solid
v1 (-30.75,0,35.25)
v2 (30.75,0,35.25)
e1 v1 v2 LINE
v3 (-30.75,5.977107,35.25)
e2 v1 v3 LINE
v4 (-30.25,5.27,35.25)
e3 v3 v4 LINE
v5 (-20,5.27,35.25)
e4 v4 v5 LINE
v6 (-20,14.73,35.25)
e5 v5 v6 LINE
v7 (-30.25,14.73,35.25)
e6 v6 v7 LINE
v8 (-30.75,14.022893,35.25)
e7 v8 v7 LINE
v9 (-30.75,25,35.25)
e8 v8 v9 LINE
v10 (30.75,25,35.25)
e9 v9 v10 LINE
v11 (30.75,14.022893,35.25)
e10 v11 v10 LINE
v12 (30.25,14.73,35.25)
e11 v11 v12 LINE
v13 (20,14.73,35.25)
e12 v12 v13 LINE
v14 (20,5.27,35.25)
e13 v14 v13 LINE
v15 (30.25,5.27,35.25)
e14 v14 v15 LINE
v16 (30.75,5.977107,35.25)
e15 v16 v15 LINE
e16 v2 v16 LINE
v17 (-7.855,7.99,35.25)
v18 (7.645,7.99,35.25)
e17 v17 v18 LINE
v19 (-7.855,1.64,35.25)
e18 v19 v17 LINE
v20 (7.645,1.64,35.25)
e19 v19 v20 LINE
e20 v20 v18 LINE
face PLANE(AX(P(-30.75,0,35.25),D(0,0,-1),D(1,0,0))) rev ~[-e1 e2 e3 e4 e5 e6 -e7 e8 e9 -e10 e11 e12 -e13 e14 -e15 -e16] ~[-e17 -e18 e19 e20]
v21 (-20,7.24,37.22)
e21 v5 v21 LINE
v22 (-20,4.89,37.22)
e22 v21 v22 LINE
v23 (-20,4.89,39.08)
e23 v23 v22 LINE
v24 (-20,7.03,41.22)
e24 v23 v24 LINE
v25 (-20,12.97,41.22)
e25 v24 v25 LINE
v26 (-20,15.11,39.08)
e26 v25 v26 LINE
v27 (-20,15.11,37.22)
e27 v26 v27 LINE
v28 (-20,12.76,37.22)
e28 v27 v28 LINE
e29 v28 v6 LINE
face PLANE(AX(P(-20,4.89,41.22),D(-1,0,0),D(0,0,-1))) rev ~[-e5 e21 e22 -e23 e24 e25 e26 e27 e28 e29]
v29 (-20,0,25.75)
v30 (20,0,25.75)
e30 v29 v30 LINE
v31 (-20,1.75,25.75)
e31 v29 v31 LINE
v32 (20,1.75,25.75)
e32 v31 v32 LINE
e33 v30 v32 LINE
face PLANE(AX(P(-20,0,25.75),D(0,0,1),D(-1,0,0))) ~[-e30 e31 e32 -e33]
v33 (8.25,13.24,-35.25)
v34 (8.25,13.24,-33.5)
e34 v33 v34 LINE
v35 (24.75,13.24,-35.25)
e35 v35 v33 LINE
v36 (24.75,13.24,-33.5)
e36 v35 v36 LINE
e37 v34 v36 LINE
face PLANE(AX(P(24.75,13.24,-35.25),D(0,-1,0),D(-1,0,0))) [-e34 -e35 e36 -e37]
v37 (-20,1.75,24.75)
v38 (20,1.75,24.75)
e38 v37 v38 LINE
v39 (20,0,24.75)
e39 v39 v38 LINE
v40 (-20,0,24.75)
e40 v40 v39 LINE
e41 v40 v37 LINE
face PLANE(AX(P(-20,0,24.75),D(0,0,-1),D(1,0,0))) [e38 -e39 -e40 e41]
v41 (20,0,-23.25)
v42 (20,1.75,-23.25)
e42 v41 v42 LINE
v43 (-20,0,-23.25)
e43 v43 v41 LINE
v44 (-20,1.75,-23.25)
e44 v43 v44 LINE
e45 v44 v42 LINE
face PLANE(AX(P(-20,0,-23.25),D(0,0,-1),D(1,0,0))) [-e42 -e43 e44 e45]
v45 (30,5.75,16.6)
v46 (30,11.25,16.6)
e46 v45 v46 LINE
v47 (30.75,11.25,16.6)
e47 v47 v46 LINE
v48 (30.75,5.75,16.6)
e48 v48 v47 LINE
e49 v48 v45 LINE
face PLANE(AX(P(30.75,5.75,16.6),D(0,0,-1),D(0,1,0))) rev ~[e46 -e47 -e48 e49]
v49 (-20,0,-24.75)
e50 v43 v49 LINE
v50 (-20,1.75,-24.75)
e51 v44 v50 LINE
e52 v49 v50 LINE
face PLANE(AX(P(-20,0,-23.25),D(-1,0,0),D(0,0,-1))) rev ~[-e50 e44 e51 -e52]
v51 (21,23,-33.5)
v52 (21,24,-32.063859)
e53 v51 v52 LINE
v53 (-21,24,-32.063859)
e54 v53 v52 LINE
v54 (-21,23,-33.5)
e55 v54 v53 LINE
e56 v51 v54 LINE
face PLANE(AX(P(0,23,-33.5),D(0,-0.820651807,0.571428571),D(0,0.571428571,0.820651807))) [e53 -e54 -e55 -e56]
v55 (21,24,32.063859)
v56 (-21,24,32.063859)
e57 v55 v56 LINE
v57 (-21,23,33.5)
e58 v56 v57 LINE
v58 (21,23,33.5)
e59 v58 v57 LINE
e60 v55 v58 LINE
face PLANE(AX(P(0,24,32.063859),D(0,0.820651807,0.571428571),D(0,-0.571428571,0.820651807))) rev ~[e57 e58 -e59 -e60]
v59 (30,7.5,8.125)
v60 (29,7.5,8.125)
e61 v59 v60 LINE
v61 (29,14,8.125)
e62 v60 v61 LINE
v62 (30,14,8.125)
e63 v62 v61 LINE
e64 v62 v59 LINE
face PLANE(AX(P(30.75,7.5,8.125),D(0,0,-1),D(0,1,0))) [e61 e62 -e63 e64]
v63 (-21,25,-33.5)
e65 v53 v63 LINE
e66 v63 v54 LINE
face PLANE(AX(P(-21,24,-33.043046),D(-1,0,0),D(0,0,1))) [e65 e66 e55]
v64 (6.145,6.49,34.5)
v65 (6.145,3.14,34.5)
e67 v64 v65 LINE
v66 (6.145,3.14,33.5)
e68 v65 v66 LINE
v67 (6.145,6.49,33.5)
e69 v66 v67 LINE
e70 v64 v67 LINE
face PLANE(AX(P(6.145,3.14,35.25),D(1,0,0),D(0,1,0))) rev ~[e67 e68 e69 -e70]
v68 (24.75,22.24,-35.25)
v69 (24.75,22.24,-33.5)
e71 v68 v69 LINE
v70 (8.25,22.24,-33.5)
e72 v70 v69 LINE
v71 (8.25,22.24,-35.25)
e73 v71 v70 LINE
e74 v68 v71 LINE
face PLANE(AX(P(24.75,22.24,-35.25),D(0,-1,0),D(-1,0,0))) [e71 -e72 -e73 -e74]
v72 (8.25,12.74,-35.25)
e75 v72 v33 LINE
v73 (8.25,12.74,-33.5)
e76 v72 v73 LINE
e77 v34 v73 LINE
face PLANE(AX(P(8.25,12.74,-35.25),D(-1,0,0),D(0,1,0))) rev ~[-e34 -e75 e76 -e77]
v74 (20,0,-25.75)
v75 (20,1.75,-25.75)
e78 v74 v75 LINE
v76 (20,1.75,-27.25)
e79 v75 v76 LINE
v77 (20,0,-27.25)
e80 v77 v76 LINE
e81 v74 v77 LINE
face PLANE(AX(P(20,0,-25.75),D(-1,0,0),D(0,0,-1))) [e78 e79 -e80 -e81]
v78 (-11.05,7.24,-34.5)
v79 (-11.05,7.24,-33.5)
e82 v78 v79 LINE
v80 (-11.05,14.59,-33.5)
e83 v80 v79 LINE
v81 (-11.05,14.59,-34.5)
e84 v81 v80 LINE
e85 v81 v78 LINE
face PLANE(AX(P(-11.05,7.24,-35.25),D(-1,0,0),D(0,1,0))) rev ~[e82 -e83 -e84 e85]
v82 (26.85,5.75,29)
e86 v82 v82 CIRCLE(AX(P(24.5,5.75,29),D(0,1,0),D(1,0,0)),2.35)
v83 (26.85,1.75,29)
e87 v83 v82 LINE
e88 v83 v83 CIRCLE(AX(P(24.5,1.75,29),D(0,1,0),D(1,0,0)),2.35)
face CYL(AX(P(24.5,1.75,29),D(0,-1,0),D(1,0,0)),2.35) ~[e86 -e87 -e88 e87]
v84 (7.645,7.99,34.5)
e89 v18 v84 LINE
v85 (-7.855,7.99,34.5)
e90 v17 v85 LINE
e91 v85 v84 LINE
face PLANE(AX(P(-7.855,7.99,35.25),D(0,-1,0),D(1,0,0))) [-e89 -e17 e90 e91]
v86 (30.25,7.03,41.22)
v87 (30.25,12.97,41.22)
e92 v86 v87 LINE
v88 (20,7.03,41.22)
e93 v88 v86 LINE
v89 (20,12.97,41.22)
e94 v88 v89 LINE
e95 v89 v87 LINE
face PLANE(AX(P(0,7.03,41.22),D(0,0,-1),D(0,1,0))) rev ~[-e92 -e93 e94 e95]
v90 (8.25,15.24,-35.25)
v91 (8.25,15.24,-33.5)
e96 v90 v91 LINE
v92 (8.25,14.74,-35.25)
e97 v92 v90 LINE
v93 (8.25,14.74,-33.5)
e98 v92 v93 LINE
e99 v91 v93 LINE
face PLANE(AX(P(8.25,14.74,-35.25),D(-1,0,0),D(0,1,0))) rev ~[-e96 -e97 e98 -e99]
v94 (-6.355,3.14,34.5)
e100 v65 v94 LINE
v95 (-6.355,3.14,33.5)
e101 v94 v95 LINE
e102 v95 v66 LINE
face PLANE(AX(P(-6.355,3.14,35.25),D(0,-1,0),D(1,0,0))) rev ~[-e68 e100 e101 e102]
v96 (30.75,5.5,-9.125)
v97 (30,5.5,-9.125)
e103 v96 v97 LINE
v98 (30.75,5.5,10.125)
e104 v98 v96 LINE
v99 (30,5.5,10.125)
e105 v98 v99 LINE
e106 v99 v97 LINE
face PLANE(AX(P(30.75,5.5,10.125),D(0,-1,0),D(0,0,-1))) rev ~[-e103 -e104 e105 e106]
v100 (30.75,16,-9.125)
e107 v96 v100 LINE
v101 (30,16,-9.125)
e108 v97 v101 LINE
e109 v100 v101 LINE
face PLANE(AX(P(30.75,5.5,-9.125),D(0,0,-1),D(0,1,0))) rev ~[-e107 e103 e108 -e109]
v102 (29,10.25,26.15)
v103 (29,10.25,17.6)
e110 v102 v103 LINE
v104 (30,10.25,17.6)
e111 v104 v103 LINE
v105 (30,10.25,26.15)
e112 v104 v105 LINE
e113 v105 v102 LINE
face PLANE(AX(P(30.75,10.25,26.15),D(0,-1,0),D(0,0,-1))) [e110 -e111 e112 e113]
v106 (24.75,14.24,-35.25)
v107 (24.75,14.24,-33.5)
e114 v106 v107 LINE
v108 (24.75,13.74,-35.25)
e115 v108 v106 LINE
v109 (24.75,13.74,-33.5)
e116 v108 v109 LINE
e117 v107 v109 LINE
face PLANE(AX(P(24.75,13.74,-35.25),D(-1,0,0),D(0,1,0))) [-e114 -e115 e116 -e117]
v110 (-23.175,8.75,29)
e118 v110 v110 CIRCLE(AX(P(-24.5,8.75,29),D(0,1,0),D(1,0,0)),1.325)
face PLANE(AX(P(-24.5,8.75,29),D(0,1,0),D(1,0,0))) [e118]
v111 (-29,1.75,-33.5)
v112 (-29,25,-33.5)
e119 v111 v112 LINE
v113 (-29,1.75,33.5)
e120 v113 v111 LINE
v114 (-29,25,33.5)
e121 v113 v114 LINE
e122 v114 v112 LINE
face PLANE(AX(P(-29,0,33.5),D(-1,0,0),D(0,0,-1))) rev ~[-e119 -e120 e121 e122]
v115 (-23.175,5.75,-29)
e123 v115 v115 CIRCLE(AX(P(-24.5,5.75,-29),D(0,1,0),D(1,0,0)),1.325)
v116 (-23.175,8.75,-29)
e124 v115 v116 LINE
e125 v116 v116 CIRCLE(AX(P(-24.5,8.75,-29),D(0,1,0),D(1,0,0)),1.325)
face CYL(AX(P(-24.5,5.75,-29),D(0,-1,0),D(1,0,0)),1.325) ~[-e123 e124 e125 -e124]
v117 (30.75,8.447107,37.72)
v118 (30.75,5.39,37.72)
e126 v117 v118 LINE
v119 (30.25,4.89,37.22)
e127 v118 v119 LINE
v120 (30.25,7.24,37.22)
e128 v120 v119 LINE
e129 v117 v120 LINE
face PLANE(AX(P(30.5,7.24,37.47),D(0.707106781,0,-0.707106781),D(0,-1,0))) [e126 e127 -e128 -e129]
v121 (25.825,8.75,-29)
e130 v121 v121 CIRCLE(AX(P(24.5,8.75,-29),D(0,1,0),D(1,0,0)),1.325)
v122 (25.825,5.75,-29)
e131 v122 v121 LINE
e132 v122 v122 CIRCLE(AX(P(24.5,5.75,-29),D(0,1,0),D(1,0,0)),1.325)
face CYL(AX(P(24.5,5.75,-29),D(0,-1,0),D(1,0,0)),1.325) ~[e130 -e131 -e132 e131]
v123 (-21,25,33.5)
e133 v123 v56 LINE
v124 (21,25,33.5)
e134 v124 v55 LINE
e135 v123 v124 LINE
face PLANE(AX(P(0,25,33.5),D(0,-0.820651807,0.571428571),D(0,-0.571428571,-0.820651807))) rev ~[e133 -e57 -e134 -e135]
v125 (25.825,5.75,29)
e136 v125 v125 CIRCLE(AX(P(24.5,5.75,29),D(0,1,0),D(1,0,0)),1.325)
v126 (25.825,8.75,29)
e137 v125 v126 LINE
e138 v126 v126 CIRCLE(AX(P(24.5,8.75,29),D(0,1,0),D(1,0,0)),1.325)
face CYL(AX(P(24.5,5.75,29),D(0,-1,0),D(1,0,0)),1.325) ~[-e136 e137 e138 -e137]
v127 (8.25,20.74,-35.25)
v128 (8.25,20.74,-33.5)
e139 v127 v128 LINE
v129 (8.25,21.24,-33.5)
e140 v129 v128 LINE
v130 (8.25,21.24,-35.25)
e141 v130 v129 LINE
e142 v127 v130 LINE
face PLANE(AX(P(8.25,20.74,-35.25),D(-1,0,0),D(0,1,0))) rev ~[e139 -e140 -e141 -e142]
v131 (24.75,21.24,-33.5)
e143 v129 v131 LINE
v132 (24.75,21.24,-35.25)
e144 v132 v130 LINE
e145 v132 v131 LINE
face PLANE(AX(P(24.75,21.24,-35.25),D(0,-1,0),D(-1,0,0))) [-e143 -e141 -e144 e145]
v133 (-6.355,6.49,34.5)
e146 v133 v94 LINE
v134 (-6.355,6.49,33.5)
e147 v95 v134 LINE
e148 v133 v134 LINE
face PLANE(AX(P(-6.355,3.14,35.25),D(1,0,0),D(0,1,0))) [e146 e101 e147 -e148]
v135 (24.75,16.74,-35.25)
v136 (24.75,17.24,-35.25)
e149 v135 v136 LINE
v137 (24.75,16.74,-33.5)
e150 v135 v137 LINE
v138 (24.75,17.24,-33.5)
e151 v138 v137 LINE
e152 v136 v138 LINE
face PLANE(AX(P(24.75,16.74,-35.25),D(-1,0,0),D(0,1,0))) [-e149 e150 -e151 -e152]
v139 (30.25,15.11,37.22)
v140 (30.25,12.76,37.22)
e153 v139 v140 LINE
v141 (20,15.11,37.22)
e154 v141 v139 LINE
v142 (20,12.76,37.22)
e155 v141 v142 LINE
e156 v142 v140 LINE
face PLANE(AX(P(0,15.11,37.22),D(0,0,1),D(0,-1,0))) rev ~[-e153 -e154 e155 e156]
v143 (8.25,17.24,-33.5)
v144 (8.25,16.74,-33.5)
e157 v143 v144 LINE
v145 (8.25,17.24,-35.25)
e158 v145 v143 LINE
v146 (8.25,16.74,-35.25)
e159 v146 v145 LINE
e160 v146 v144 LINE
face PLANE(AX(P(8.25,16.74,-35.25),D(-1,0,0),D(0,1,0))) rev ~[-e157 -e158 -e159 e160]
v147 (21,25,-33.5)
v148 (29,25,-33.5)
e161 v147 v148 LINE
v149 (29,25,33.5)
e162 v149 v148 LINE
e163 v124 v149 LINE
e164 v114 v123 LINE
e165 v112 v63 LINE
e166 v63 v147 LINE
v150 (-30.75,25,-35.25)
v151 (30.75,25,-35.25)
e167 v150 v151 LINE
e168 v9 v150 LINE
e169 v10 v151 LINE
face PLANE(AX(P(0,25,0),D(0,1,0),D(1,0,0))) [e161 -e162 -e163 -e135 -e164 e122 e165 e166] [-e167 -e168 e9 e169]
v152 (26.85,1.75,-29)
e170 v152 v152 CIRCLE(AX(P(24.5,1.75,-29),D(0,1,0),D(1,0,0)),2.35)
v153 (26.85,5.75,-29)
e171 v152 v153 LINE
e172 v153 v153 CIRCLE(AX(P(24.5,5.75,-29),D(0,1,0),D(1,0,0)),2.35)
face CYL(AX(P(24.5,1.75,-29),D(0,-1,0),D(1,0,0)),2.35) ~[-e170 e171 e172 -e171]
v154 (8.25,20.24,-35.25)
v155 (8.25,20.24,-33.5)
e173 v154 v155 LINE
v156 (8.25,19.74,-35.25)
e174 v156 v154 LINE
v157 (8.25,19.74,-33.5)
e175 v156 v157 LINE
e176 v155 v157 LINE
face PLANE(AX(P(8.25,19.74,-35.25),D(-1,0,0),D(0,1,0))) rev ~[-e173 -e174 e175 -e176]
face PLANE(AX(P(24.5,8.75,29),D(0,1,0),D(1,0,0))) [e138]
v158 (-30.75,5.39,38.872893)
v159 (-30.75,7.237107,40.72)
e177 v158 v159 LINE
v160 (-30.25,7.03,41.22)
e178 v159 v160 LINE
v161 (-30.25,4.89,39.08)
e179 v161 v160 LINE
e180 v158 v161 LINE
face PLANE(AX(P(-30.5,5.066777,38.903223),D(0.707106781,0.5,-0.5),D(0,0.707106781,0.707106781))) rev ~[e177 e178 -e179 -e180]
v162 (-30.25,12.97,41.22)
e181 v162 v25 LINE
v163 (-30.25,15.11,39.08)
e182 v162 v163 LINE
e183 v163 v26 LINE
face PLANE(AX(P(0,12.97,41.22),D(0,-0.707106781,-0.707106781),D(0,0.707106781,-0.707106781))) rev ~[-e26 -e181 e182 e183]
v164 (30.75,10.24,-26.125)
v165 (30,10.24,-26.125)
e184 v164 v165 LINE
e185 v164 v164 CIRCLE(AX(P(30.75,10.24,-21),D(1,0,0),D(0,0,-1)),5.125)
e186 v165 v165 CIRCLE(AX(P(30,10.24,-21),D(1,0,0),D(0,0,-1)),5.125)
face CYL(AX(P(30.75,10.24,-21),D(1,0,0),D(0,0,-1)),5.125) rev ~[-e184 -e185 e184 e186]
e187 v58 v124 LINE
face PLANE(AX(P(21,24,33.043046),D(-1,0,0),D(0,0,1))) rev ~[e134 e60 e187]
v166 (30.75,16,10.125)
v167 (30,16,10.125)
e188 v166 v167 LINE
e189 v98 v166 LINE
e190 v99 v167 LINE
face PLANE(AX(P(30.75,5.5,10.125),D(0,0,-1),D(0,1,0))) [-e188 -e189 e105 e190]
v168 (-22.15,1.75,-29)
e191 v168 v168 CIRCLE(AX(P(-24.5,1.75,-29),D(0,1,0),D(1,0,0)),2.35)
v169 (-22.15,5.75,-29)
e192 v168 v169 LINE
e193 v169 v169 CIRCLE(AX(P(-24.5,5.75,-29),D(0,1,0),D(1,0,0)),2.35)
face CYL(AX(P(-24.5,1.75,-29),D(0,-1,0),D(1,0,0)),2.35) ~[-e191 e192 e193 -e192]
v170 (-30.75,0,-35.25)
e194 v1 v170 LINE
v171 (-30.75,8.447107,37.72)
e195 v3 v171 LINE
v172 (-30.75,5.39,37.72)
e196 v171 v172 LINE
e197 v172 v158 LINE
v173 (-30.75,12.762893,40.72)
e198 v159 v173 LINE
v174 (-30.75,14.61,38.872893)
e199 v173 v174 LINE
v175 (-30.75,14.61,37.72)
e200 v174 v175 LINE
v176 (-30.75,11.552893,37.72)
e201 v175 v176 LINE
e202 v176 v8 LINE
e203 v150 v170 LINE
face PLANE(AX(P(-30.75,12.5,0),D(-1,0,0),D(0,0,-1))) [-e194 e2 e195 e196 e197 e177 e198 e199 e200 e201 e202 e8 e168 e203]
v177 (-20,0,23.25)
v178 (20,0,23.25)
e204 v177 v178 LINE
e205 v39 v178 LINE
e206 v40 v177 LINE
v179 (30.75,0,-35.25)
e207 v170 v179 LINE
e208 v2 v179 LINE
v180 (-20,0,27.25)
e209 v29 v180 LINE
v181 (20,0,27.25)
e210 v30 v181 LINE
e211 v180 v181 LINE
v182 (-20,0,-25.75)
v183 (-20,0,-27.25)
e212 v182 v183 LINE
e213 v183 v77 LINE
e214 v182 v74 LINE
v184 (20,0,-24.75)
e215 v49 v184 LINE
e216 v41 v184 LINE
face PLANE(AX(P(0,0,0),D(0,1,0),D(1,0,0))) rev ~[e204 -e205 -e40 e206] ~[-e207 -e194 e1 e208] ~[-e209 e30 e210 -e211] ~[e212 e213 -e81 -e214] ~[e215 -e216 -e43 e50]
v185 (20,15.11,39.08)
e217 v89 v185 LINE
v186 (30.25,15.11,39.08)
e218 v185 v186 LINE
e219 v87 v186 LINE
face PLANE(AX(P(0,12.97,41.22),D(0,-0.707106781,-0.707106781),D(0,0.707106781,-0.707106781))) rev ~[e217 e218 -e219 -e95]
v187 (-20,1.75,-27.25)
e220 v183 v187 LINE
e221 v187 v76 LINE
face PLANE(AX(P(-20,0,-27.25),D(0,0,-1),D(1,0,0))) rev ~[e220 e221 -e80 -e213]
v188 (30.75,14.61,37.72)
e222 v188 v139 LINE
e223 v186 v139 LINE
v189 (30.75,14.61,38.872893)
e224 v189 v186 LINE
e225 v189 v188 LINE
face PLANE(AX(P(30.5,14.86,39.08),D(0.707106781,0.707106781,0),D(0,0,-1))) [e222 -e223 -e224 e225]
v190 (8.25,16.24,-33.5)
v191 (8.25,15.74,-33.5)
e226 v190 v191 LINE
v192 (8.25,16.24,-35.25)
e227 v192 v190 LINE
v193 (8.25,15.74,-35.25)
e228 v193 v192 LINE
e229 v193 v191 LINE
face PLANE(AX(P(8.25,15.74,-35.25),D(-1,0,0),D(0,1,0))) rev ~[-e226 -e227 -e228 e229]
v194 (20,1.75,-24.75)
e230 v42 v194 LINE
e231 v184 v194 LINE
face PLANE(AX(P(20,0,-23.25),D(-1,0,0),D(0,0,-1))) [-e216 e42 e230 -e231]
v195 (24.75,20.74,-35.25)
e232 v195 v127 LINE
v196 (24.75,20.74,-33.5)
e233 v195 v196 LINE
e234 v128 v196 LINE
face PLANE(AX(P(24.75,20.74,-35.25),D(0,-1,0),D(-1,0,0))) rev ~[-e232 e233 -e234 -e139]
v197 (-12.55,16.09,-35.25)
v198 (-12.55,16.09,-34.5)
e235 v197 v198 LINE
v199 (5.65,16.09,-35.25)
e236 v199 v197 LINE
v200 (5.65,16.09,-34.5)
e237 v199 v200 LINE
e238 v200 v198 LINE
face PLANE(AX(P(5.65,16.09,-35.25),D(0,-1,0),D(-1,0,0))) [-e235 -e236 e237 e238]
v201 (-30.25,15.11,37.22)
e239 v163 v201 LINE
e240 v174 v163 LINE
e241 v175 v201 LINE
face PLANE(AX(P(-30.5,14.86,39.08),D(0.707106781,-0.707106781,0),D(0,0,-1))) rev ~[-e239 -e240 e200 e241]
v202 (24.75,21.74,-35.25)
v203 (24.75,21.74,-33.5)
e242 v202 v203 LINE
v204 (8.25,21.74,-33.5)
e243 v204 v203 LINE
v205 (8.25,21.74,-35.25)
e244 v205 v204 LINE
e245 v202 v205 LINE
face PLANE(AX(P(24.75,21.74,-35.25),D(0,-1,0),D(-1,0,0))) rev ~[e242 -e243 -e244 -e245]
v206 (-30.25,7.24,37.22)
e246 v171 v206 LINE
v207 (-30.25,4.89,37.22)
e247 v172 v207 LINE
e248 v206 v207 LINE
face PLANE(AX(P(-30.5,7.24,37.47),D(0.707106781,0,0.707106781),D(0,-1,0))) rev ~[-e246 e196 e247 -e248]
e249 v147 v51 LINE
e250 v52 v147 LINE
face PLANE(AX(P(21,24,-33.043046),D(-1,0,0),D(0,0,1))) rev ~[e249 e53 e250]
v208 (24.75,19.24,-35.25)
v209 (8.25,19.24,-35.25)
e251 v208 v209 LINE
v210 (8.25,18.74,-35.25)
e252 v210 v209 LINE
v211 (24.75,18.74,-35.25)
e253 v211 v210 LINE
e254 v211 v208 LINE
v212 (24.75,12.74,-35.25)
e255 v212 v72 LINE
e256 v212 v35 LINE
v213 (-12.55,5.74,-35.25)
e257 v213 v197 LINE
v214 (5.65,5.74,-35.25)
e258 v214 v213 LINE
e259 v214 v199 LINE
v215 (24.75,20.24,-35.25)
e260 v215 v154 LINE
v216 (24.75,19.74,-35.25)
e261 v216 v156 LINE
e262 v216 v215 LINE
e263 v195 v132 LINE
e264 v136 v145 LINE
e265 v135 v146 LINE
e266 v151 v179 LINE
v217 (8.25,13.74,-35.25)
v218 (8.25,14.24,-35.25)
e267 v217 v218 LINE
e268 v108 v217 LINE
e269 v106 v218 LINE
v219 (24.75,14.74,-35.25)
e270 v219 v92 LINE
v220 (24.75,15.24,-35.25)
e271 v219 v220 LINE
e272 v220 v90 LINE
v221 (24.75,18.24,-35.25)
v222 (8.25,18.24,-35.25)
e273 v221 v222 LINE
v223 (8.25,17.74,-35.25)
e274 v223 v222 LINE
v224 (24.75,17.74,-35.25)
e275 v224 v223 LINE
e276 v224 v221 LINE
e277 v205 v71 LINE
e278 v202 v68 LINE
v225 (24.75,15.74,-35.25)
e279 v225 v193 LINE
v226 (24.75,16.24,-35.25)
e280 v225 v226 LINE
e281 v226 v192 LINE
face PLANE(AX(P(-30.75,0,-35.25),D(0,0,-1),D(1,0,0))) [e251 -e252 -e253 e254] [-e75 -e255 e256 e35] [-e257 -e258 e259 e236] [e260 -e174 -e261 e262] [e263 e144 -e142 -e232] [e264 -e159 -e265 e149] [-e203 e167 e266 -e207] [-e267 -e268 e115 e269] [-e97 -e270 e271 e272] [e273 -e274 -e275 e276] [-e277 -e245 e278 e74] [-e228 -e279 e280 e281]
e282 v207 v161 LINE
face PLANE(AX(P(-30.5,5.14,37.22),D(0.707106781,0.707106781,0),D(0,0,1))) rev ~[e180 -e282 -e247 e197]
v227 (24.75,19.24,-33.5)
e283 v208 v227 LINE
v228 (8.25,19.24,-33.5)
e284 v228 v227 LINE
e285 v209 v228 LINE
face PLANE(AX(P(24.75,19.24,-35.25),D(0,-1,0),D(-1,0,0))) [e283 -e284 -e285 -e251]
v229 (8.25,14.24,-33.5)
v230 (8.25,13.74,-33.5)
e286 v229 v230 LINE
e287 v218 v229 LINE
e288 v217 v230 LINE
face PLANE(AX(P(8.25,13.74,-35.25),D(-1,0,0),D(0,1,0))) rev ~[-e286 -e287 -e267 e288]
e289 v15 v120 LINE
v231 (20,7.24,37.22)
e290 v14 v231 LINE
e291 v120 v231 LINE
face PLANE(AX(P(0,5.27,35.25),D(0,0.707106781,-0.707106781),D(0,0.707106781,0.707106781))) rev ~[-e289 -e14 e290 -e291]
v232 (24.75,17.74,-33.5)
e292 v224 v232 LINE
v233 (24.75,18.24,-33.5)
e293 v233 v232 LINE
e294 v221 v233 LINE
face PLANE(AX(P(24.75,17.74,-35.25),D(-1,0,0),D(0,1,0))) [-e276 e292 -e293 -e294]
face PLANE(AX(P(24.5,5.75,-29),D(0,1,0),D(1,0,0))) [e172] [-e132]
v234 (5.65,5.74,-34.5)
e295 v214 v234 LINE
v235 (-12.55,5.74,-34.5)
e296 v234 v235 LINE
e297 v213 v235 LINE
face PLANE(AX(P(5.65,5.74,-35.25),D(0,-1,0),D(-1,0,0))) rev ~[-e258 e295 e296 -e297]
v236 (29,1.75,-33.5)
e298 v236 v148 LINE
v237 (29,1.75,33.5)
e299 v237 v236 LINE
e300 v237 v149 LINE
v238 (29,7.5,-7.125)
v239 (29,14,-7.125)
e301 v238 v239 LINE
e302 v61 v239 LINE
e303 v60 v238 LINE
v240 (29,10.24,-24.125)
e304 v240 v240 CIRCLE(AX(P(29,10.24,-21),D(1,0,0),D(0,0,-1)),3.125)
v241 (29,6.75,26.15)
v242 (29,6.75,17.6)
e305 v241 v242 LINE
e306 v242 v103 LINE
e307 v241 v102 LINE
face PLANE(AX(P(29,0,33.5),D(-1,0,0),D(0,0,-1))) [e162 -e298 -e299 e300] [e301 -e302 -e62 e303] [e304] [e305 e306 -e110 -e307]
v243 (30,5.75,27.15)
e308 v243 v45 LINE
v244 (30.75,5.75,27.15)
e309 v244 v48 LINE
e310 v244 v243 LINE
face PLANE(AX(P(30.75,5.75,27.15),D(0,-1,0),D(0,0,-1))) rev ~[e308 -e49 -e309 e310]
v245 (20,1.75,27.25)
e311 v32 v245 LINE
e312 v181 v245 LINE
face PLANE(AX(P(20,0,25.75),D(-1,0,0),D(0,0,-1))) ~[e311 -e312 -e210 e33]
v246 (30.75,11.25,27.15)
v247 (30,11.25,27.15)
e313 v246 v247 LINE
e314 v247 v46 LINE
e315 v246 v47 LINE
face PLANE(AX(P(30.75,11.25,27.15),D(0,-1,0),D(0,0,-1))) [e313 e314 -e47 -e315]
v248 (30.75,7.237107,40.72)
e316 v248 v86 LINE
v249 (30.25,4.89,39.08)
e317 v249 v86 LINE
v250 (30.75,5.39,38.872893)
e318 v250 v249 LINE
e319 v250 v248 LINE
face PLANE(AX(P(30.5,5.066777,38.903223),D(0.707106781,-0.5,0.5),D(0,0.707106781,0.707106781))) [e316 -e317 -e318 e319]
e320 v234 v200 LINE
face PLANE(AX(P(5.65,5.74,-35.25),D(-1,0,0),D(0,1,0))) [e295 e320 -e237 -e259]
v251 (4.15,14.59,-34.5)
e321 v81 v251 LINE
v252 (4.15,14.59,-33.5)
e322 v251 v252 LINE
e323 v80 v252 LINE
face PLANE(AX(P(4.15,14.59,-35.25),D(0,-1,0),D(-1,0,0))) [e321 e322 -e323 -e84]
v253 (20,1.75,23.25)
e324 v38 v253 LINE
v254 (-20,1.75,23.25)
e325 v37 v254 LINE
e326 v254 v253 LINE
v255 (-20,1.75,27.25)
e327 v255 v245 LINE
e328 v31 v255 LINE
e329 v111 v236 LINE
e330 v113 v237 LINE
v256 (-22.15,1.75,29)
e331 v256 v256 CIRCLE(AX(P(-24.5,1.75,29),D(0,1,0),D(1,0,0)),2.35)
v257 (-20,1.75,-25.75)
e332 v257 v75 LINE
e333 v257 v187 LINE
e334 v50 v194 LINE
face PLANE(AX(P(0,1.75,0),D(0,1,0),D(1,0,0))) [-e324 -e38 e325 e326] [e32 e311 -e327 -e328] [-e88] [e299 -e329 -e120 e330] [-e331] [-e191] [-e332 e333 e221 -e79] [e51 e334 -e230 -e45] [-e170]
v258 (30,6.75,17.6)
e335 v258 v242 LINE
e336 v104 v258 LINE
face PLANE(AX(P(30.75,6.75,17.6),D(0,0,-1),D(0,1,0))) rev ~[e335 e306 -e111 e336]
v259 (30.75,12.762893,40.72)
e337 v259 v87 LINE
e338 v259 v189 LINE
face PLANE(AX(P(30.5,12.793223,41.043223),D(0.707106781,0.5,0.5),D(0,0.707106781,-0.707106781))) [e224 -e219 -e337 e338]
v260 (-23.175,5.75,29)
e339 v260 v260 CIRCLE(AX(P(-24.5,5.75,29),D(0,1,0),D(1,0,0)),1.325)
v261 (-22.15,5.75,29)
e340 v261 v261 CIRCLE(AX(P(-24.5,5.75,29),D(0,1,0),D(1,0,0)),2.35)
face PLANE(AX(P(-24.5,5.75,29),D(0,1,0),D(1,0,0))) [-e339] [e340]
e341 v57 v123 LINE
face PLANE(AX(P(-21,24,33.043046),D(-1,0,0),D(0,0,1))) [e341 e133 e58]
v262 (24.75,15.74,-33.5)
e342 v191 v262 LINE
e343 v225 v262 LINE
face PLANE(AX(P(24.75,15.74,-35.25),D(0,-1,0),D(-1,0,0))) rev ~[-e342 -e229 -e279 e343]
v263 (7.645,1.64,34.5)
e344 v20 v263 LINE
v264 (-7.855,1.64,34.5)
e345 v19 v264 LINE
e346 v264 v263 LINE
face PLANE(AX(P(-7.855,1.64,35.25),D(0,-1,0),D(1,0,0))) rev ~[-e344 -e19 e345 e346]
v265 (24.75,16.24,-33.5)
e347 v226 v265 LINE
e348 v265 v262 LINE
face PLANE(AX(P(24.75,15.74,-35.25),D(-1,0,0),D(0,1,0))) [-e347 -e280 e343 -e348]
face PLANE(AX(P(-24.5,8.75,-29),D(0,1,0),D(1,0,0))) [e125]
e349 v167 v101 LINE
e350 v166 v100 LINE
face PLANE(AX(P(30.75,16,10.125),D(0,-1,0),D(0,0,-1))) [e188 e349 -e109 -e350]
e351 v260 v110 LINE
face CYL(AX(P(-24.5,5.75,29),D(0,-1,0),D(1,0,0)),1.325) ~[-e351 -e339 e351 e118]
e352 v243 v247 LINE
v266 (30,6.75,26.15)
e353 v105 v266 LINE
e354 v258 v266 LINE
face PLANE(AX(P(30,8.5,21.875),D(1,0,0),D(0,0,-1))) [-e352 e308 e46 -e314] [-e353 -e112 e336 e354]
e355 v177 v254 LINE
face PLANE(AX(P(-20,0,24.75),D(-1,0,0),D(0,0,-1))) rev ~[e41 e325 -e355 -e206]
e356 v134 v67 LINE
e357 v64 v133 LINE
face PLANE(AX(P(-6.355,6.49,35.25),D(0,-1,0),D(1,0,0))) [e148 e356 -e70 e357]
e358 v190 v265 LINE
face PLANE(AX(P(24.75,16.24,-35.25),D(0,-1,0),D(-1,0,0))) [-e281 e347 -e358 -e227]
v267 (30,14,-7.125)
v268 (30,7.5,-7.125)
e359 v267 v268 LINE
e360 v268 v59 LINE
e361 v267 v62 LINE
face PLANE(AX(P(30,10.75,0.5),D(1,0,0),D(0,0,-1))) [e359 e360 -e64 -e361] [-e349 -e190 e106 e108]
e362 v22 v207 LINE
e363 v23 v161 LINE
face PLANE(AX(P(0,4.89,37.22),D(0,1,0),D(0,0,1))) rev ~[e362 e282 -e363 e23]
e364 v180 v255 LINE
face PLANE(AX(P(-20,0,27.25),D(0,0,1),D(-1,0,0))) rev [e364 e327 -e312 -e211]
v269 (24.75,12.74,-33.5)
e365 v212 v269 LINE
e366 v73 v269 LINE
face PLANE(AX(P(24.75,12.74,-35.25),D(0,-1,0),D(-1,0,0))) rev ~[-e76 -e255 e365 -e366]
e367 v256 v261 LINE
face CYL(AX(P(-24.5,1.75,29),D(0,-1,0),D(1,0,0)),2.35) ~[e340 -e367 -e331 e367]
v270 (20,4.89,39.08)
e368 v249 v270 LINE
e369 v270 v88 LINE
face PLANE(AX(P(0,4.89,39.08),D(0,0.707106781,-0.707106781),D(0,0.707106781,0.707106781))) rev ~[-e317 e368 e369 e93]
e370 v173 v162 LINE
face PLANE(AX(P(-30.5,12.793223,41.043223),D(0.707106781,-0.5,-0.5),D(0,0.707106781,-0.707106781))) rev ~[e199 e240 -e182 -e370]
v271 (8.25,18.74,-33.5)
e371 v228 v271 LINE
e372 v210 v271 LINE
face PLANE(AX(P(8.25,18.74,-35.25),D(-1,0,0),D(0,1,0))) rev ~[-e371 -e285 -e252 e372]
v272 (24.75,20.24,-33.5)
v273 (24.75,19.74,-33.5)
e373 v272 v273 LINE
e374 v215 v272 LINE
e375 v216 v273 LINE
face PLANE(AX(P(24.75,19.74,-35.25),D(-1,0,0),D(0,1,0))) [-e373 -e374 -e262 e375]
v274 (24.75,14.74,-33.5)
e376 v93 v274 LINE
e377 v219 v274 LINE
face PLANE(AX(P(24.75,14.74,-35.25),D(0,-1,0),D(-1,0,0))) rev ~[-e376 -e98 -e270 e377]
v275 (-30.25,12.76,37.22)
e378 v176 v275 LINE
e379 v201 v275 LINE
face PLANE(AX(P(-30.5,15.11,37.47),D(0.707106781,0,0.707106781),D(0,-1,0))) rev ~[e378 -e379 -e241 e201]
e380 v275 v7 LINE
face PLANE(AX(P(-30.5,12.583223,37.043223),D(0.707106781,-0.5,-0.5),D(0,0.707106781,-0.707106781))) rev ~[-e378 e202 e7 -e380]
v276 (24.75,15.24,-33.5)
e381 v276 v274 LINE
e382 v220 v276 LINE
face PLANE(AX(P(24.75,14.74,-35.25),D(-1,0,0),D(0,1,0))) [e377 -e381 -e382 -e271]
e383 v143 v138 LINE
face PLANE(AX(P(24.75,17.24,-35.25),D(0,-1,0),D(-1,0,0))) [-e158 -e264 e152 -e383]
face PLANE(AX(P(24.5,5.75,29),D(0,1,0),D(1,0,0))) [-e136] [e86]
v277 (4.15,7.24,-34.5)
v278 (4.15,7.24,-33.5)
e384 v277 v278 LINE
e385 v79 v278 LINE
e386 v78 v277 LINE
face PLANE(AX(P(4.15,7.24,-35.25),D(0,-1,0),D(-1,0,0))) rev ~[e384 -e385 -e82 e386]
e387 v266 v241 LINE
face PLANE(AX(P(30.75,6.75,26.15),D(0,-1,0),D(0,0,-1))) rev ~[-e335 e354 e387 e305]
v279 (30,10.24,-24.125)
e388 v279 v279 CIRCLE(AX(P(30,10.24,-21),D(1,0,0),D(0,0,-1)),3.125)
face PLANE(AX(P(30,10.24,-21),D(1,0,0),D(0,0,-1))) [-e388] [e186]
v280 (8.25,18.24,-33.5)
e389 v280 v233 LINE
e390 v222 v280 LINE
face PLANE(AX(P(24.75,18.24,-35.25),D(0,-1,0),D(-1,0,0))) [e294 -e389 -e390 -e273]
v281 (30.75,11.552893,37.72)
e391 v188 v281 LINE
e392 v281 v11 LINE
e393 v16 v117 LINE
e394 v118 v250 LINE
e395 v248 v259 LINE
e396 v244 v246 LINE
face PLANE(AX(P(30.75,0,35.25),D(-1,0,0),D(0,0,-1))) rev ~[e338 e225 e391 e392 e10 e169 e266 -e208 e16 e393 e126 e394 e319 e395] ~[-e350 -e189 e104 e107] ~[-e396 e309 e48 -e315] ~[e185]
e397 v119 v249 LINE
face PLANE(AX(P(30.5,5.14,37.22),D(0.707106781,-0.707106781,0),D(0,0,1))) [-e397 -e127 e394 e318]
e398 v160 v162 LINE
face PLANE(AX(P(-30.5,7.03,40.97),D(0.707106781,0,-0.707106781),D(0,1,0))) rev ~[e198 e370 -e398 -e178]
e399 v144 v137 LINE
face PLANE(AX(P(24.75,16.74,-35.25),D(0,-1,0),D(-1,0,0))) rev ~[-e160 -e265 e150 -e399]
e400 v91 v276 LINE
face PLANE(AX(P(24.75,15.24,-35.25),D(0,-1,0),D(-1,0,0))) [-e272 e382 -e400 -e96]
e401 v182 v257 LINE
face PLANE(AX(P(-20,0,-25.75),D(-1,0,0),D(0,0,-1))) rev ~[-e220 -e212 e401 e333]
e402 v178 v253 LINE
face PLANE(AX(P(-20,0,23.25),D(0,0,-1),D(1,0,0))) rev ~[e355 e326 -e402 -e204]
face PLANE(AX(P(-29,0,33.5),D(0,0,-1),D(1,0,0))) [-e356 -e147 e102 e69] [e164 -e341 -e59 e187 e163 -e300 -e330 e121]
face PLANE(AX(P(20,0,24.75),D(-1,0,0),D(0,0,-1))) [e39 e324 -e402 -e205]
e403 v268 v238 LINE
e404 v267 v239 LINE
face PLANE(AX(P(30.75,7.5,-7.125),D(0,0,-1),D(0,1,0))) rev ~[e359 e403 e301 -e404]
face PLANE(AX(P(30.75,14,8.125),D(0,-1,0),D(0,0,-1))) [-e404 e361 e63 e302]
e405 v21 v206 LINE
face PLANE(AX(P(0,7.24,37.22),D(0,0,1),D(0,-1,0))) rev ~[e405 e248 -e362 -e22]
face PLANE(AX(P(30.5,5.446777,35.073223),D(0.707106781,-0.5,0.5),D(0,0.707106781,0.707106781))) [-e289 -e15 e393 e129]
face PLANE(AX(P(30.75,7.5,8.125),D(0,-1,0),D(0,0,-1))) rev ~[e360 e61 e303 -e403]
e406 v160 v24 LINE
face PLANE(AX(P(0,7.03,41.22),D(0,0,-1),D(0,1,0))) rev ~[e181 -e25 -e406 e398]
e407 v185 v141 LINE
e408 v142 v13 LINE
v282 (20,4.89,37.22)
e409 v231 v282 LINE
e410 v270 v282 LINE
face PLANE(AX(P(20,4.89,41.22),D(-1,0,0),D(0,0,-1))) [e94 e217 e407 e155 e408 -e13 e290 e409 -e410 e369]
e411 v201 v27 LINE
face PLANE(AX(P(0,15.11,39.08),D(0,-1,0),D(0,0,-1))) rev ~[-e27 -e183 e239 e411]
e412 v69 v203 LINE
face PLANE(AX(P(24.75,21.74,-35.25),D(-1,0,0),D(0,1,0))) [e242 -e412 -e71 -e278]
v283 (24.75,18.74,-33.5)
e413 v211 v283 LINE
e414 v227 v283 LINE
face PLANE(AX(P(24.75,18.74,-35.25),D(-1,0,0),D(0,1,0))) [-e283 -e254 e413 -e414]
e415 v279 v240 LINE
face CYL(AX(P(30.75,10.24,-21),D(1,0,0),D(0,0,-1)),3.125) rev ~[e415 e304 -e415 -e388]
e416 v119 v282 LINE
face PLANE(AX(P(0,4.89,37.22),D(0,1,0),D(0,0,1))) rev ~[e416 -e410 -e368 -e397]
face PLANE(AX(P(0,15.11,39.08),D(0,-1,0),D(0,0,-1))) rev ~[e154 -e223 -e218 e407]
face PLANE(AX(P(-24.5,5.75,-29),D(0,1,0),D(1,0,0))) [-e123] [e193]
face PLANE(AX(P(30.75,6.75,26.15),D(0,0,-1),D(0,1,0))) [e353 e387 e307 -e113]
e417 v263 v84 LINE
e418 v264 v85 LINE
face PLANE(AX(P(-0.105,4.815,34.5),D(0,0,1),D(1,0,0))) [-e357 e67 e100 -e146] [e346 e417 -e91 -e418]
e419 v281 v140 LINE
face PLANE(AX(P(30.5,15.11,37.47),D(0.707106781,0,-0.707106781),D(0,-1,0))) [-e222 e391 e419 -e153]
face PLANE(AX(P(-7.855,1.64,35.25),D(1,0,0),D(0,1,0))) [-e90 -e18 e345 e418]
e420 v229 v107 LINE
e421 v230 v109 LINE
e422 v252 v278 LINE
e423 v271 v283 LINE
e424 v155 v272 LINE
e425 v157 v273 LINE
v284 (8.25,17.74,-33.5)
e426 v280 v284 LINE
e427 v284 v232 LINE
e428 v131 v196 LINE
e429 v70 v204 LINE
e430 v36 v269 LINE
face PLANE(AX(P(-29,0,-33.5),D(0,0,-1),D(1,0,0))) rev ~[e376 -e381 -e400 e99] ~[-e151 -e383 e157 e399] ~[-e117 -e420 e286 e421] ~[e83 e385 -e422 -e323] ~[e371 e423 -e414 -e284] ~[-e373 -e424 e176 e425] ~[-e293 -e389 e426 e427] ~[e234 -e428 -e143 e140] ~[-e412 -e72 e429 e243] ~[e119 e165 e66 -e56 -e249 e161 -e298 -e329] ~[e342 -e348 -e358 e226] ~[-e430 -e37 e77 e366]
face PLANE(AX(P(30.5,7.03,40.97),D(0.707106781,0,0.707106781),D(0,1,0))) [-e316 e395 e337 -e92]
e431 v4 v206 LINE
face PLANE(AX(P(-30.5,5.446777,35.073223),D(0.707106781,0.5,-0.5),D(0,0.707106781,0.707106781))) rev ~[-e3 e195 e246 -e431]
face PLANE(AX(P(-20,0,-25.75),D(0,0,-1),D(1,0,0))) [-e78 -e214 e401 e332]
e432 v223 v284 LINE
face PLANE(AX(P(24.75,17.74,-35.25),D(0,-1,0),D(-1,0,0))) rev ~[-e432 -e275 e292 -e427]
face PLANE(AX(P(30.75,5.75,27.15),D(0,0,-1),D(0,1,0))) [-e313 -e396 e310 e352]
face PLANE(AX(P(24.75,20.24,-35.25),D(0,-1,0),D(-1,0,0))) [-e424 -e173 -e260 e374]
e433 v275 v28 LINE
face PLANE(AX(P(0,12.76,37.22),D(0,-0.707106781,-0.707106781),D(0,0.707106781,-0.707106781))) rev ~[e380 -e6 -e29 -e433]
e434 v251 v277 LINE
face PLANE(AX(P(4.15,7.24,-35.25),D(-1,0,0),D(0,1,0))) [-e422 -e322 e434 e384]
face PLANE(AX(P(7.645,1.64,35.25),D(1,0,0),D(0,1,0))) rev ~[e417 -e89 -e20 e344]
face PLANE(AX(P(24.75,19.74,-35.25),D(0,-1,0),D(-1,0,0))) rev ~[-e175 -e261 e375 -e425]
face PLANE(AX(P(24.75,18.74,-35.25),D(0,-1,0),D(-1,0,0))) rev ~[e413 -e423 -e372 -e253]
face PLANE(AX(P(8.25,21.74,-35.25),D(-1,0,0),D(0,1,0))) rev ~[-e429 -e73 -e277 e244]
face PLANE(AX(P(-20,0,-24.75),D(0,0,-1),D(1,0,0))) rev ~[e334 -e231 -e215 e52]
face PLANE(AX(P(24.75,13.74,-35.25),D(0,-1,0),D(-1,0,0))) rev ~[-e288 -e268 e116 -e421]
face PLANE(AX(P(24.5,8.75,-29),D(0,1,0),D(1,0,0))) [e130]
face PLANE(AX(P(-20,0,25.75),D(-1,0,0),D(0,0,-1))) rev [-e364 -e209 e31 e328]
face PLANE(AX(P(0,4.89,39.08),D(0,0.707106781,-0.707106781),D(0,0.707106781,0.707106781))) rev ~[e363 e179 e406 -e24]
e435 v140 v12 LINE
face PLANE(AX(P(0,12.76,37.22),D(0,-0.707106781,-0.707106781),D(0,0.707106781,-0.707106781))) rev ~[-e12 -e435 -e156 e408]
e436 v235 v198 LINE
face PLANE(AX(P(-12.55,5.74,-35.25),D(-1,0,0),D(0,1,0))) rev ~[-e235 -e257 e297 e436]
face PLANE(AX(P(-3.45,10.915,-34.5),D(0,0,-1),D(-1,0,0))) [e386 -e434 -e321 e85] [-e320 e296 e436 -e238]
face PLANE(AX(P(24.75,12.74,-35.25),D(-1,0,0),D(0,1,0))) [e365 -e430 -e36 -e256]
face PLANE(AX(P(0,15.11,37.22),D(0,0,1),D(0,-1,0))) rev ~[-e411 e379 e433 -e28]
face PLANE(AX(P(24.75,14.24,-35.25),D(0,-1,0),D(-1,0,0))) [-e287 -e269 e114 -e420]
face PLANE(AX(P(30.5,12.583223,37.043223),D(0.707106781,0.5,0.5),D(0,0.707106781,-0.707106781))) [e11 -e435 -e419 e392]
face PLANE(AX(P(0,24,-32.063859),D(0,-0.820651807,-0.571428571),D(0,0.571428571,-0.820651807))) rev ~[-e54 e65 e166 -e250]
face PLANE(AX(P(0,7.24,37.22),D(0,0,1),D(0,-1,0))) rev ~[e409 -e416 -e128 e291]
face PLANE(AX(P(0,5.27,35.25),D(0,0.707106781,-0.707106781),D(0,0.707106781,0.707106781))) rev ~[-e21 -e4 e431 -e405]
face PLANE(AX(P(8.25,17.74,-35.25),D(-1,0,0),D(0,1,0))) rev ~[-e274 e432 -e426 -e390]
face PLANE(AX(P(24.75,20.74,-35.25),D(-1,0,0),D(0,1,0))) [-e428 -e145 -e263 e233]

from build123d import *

# Parameters (mm, degrees)
SKETCH1_W                       = 61.5
SKETCH1_H                       = 70.5
SKETCH1_W_2                     = 58
SKETCH1_H_2                     = 67
BOSS_EXTRUDE1_DEPTH             = 25
SKETCH2_W                       = 61.5
SKETCH2_H                       = 70.5
BOSS_EXTRUDE5_DEPTH             = 1.75
SKETCH3_R                       = 2.35
BOSS_EXTRUDE2_DEPTH             = 4
SKETCH4_R                       = 1.325
BOSS_EXTRUDE3_DEPTH             = 3
CUT_EXTRUDE2_REACH              = 63.5
SKETCH5_R                       = 3.125
SKETCH5_W                       = 8.55
SKETCH5_H                       = 3.5
SKETCH5_W_2                     = 15.25
SKETCH5_H_2                     = 6.5
BOSS_EXTRUDE4_REACH             = 32.75
BOSS_EXTRUDE4_DIRECTION_2_REACH = 32.75
CUT_EXTRUDE3_START              = 4.89
SKETCH8_W                       = 40
SKETCH8_H                       = 5.97
CUT_EXTRUDE3_DEPTH              = 10.22
CUT_EXTRUDE4_REACH              = 78.47
SKETCH10_W                      = 15.2
SKETCH10_H                      = 7.35
SKETCH10_W_2                    = 16.5
SKETCH10_H_2                    = 0.5
CUT_EXTRUDE6_REACH              = 72.5
SKETCH13_W                      = 12.5
SKETCH13_H                      = 3.35
SKETCH14_R                      = 5.125
SKETCH14_W                      = 10.55
SKETCH14_H                      = 5.5
SKETCH14_W_2                    = 19.25
SKETCH14_H_2                    = 10.5
CUT_EXTRUDE7_DEPTH              = 0.75
SKETCH15_W                      = 18.2
SKETCH15_H                      = 10.35
CUT_EXTRUDE8_DEPTH              = 0.75
SKETCH17_W                      = 15.5
SKETCH17_H                      = 6.35
CUT_EXTRUDE9_DEPTH              = 0.75
BOSS_EXTRUDE6_DEPTH             = 21
BOSS_EXTRUDE6_DEPTH_BACK        = 21
SKETCH19_W                      = 40
SKETCH19_H                      = 1.5
CUT_EXTRUDE11_DEPTH             = 1.75
LPATTERN1_COUNT                 = 2
LPATTERN1_PITCH                 = 2.5
MIRROR1_COPY_1_SKETCH_W         = 40
MIRROR1_COPY_1_SKETCH_H         = 1.5
MIRROR1_COPY_1_DEPTH            = 1.75
CHAMFER1_SIZE                   = 0.5


with BuildPart() as part:
    # Sketch1 → Boss-Extrude1 (new body)
    with BuildSketch(Plane(origin=(0, 0, 0), x_dir=(1, 0, 0), z_dir=(0, 1, 0))):
        Rectangle(SKETCH1_W, SKETCH1_H)
        Rectangle(SKETCH1_W_2, SKETCH1_H_2, mode=Mode.SUBTRACT)
    extrude(amount=BOSS_EXTRUDE1_DEPTH)

    # Sketch2 → Boss-Extrude5 (add)
    with BuildSketch(Plane(origin=(0, 0, 0), x_dir=(1, 0, 0), z_dir=(0, 1, 0))):
        Rectangle(SKETCH2_W, SKETCH2_H)
    extrude(amount=BOSS_EXTRUDE5_DEPTH)

    # Sketch3 → Boss-Extrude2 (add)
    with BuildSketch(Plane(origin=(0, 1.75, 0), x_dir=(1, 0, 0), z_dir=(0, 1, 0))):
        with Locations((-24.5, 29)):
            Circle(SKETCH3_R)
        with Locations((24.5, 29)):
            Circle(SKETCH3_R)
        with Locations((24.5, -29)):
            Circle(SKETCH3_R)
        with Locations((-24.5, -29)):
            Circle(SKETCH3_R)
    extrude(amount=BOSS_EXTRUDE2_DEPTH)

    # Sketch4 → Boss-Extrude3 (add)
    with BuildSketch(Plane(origin=(0, 5.75, 0), x_dir=(1, 0, 0), z_dir=(0, 1, 0))):
        with Locations((-24.5, 29)):
            Circle(SKETCH4_R)
        with Locations((24.5, 29)):
            Circle(SKETCH4_R)
        with Locations((24.5, -29)):
            Circle(SKETCH4_R)
        with Locations((-24.5, -29)):
            Circle(SKETCH4_R)
    extrude(amount=BOSS_EXTRUDE3_DEPTH)

    # Sketch5 → Cut-Extrude2 (cut, up to next)
    with BuildSketch(Plane(origin=(30.75, 0, 0), x_dir=(0, 0, -1), z_dir=(1, 0, 0)), mode=Mode.PRIVATE) as cut_extrude2_sk1:
        with Locations((21, 10.24)):
            Circle(SKETCH5_R)
    cut_extrude2_tool1 = extrude(cut_extrude2_sk1.sketch, amount=-CUT_EXTRUDE2_REACH, mode=Mode.PRIVATE) & part.part
    add(cut_extrude2_tool1.solids().sort_by_distance((30.75, 10.24, -21))[0], mode=Mode.SUBTRACT)
    # Sketch5 → Cut-Extrude2 (cut, up to next)
    with BuildSketch(Plane(origin=(30.75, 0, 0), x_dir=(0, 0, -1), z_dir=(1, 0, 0)), mode=Mode.PRIVATE) as cut_extrude2_sk2:
        with Locations((-21.875, 8.5)):
            Rectangle(SKETCH5_W, SKETCH5_H)
    cut_extrude2_tool2 = extrude(cut_extrude2_sk2.sketch, amount=-CUT_EXTRUDE2_REACH, mode=Mode.PRIVATE) & part.part
    add(cut_extrude2_tool2.solids().sort_by_distance((30.75, 8.5, 21.875))[0], mode=Mode.SUBTRACT)
    # Sketch5 → Cut-Extrude2 (cut, up to next)
    with BuildSketch(Plane(origin=(30.75, 0, 0), x_dir=(0, 0, -1), z_dir=(1, 0, 0)), mode=Mode.PRIVATE) as cut_extrude2_sk3:
        with Locations((-0.5, 10.75)):
            Rectangle(SKETCH5_W_2, SKETCH5_H_2)
    cut_extrude2_tool3 = extrude(cut_extrude2_sk3.sketch, amount=-CUT_EXTRUDE2_REACH, mode=Mode.PRIVATE) & part.part
    add(cut_extrude2_tool3.solids().sort_by_distance((30.75, 10.75, 0.5))[0], mode=Mode.SUBTRACT)

    # Boss-Extrude4: up to this face of the body (flat: up to its plane)
    boss_extrude4_end = Plane(part.part.faces().sort_by_distance((30.75, 0.748014037, 0))[0])
    # Sketch7 → Boss-Extrude4 (add, up to the picked face)
    with BuildSketch(Plane(origin=(0, 0, 0), x_dir=(0, 0, -1), z_dir=(1, 0, 0)), mode=Mode.PRIVATE) as boss_extrude4_sk1:
        Polygon((-35.25, 14.73), (-35.25, 5.27), (-37.22, 7.24), (-37.22, 4.89), (-39.08, 4.89), (-41.22, 7.03), (-41.22, 12.97), (-39.08, 15.11), (-37.22, 15.11), (-37.22, 12.76), align=None)
    boss_extrude4_tool1 = split(extrude(boss_extrude4_sk1.sketch, amount=BOSS_EXTRUDE4_REACH, mode=Mode.PRIVATE), bisect_by=boss_extrude4_end, keep=Keep.BOTH, mode=Mode.PRIVATE)
    add(boss_extrude4_tool1.solids().sort_by_distance((0, 10, 38.216954))[0])

    # Boss-Extrude4 direction 2: up to this face of the body (flat: up to its plane)
    boss_extrude4_direction_2_end = Plane(part.part.faces().sort_by_distance((-30.75, 12.5, 0))[0])
    # Sketch7 → Boss-Extrude4 direction 2 (add, up to the picked face)
    with BuildSketch(Plane(origin=(0, 0, 0), x_dir=(0, 0, -1), z_dir=(1, 0, 0)), mode=Mode.PRIVATE) as boss_extrude4_direction_2_sk1:
        Polygon((-35.25, 14.73), (-35.25, 5.27), (-37.22, 7.24), (-37.22, 4.89), (-39.08, 4.89), (-41.22, 7.03), (-41.22, 12.97), (-39.08, 15.11), (-37.22, 15.11), (-37.22, 12.76), align=None)
    boss_extrude4_direction_2_tool1 = split(extrude(boss_extrude4_direction_2_sk1.sketch, amount=-BOSS_EXTRUDE4_DIRECTION_2_REACH, mode=Mode.PRIVATE), bisect_by=boss_extrude4_direction_2_end, keep=Keep.BOTH, mode=Mode.PRIVATE)
    add(boss_extrude4_direction_2_tool1.solids().sort_by_distance((0, 10, 38.216954))[0])

    # Sketch8 → Cut-Extrude3 (cut)
    with BuildSketch(Plane(origin=(0, 0, 0), x_dir=(1, 0, 0), z_dir=(0, 1, 0)).offset(CUT_EXTRUDE3_START)):
        with Locations((0, -38.235)):
            Rectangle(SKETCH8_W, SKETCH8_H)
    extrude(amount=CUT_EXTRUDE3_DEPTH, mode=Mode.SUBTRACT)

    # Sketch10 → Cut-Extrude4 (cut, up to next)
    with BuildSketch(Plane(origin=(0, 0, -35.25), x_dir=(-1, 0, 0), z_dir=(0, 0, -1)), mode=Mode.PRIVATE) as cut_extrude4_sk1:
        with Locations((3.45, 10.915)):
            Rectangle(SKETCH10_W, SKETCH10_H)
    cut_extrude4_tool1 = extrude(cut_extrude4_sk1.sketch, amount=-CUT_EXTRUDE4_REACH, mode=Mode.PRIVATE) & part.part
    add(cut_extrude4_tool1.solids().sort_by_distance((-3.45, 10.915, -35.25))[0], mode=Mode.SUBTRACT)
    # Sketch10 → Cut-Extrude4 (cut, up to next)
    with BuildSketch(Plane(origin=(0, 0, -35.25), x_dir=(-1, 0, 0), z_dir=(0, 0, -1)), mode=Mode.PRIVATE) as cut_extrude4_sk2:
        with Locations((-16.5, 21.99)):
            Rectangle(SKETCH10_W_2, SKETCH10_H_2)
    cut_extrude4_tool2 = extrude(cut_extrude4_sk2.sketch, amount=-CUT_EXTRUDE4_REACH, mode=Mode.PRIVATE) & part.part
    add(cut_extrude4_tool2.solids().sort_by_distance((16.5, 21.99, -35.25))[0], mode=Mode.SUBTRACT)
    # Sketch10 → Cut-Extrude4 (cut, up to next)
    with BuildSketch(Plane(origin=(0, 0, -35.25), x_dir=(-1, 0, 0), z_dir=(0, 0, -1)), mode=Mode.PRIVATE) as cut_extrude4_sk3:
        with Locations((-16.5, 20.99)):
            Rectangle(SKETCH10_W_2, SKETCH10_H_2)
    cut_extrude4_tool3 = extrude(cut_extrude4_sk3.sketch, amount=-CUT_EXTRUDE4_REACH, mode=Mode.PRIVATE) & part.part
    add(cut_extrude4_tool3.solids().sort_by_distance((16.5, 20.99, -35.25))[0], mode=Mode.SUBTRACT)
    # Sketch10 → Cut-Extrude4 (cut, up to next)
    with BuildSketch(Plane(origin=(0, 0, -35.25), x_dir=(-1, 0, 0), z_dir=(0, 0, -1)), mode=Mode.PRIVATE) as cut_extrude4_sk4:
        with Locations((-16.5, 19.99)):
            Rectangle(SKETCH10_W_2, SKETCH10_H_2)
    cut_extrude4_tool4 = extrude(cut_extrude4_sk4.sketch, amount=-CUT_EXTRUDE4_REACH, mode=Mode.PRIVATE) & part.part
    add(cut_extrude4_tool4.solids().sort_by_distance((16.5, 19.99, -35.25))[0], mode=Mode.SUBTRACT)
    # Sketch10 → Cut-Extrude4 (cut, up to next)
    with BuildSketch(Plane(origin=(0, 0, -35.25), x_dir=(-1, 0, 0), z_dir=(0, 0, -1)), mode=Mode.PRIVATE) as cut_extrude4_sk5:
        with Locations((-16.5, 18.99)):
            Rectangle(SKETCH10_W_2, SKETCH10_H_2)
    cut_extrude4_tool5 = extrude(cut_extrude4_sk5.sketch, amount=-CUT_EXTRUDE4_REACH, mode=Mode.PRIVATE) & part.part
    add(cut_extrude4_tool5.solids().sort_by_distance((16.5, 18.99, -35.25))[0], mode=Mode.SUBTRACT)
    # Sketch10 → Cut-Extrude4 (cut, up to next)
    with BuildSketch(Plane(origin=(0, 0, -35.25), x_dir=(-1, 0, 0), z_dir=(0, 0, -1)), mode=Mode.PRIVATE) as cut_extrude4_sk6:
        with Locations((-16.5, 17.99)):
            Rectangle(SKETCH10_W_2, SKETCH10_H_2)
    cut_extrude4_tool6 = extrude(cut_extrude4_sk6.sketch, amount=-CUT_EXTRUDE4_REACH, mode=Mode.PRIVATE) & part.part
    add(cut_extrude4_tool6.solids().sort_by_distance((16.5, 17.99, -35.25))[0], mode=Mode.SUBTRACT)
    # Sketch10 → Cut-Extrude4 (cut, up to next)
    with BuildSketch(Plane(origin=(0, 0, -35.25), x_dir=(-1, 0, 0), z_dir=(0, 0, -1)), mode=Mode.PRIVATE) as cut_extrude4_sk7:
        with Locations((-16.5, 16.99)):
            Rectangle(SKETCH10_W_2, SKETCH10_H_2)
    cut_extrude4_tool7 = extrude(cut_extrude4_sk7.sketch, amount=-CUT_EXTRUDE4_REACH, mode=Mode.PRIVATE) & part.part
    add(cut_extrude4_tool7.solids().sort_by_distance((16.5, 16.99, -35.25))[0], mode=Mode.SUBTRACT)
    # Sketch10 → Cut-Extrude4 (cut, up to next)
    with BuildSketch(Plane(origin=(0, 0, -35.25), x_dir=(-1, 0, 0), z_dir=(0, 0, -1)), mode=Mode.PRIVATE) as cut_extrude4_sk8:
        with Locations((-16.5, 15.99)):
            Rectangle(SKETCH10_W_2, SKETCH10_H_2)
    cut_extrude4_tool8 = extrude(cut_extrude4_sk8.sketch, amount=-CUT_EXTRUDE4_REACH, mode=Mode.PRIVATE) & part.part
    add(cut_extrude4_tool8.solids().sort_by_distance((16.5, 15.99, -35.25))[0], mode=Mode.SUBTRACT)
    # Sketch10 → Cut-Extrude4 (cut, up to next)
    with BuildSketch(Plane(origin=(0, 0, -35.25), x_dir=(-1, 0, 0), z_dir=(0, 0, -1)), mode=Mode.PRIVATE) as cut_extrude4_sk9:
        with Locations((-16.5, 14.99)):
            Rectangle(SKETCH10_W_2, SKETCH10_H_2)
    cut_extrude4_tool9 = extrude(cut_extrude4_sk9.sketch, amount=-CUT_EXTRUDE4_REACH, mode=Mode.PRIVATE) & part.part
    add(cut_extrude4_tool9.solids().sort_by_distance((16.5, 14.99, -35.25))[0], mode=Mode.SUBTRACT)
    # Sketch10 → Cut-Extrude4 (cut, up to next)
    with BuildSketch(Plane(origin=(0, 0, -35.25), x_dir=(-1, 0, 0), z_dir=(0, 0, -1)), mode=Mode.PRIVATE) as cut_extrude4_sk10:
        with Locations((-16.5, 13.99)):
            Rectangle(SKETCH10_W_2, SKETCH10_H_2)
    cut_extrude4_tool10 = extrude(cut_extrude4_sk10.sketch, amount=-CUT_EXTRUDE4_REACH, mode=Mode.PRIVATE) & part.part
    add(cut_extrude4_tool10.solids().sort_by_distance((16.5, 13.99, -35.25))[0], mode=Mode.SUBTRACT)
    # Sketch10 → Cut-Extrude4 (cut, up to next)
    with BuildSketch(Plane(origin=(0, 0, -35.25), x_dir=(-1, 0, 0), z_dir=(0, 0, -1)), mode=Mode.PRIVATE) as cut_extrude4_sk11:
        with Locations((-16.5, 12.99)):
            Rectangle(SKETCH10_W_2, SKETCH10_H_2)
    cut_extrude4_tool11 = extrude(cut_extrude4_sk11.sketch, amount=-CUT_EXTRUDE4_REACH, mode=Mode.PRIVATE) & part.part
    add(cut_extrude4_tool11.solids().sort_by_distance((16.5, 12.99, -35.25))[0], mode=Mode.SUBTRACT)

    # Sketch13 → Cut-Extrude6 (cut, up to next)
    with BuildSketch(Plane.XY.offset(35.25), mode=Mode.PRIVATE) as cut_extrude6_sk1:
        with Locations((-0.105, 4.815)):
            Rectangle(SKETCH13_W, SKETCH13_H)
    cut_extrude6_tool1 = extrude(cut_extrude6_sk1.sketch, amount=-CUT_EXTRUDE6_REACH, mode=Mode.PRIVATE) & part.part
    add(cut_extrude6_tool1.solids().sort_by_distance((-0.105, 4.815, 35.25))[0], mode=Mode.SUBTRACT)

    # Sketch14 → Cut-Extrude7 (cut)
    with BuildSketch(Plane(origin=(30.75, 0, 0), x_dir=(0, 0, -1), z_dir=(1, 0, 0))):
        with Locations((21, 10.24)):
            Circle(SKETCH14_R)
        with Locations((-21.875, 8.5)):
            Rectangle(SKETCH14_W, SKETCH14_H)
        with Locations((-0.5, 10.75)):
            Rectangle(SKETCH14_W_2, SKETCH14_H_2)
    extrude(amount=-CUT_EXTRUDE7_DEPTH, mode=Mode.SUBTRACT)

    # Sketch15 → Cut-Extrude8 (cut)
    with BuildSketch(Plane(origin=(0, 0, -35.25), x_dir=(-1, 0, 0), z_dir=(0, 0, -1))):
        with Locations((3.45, 10.915)):
            Rectangle(SKETCH15_W, SKETCH15_H)
    extrude(amount=-CUT_EXTRUDE8_DEPTH, mode=Mode.SUBTRACT)

    # Sketch17 → Cut-Extrude9 (cut)
    with BuildSketch(Plane.XY.offset(35.25)):
        with Locations((-0.105, 4.815)):
            Rectangle(SKETCH17_W, SKETCH17_H)
    extrude(amount=-CUT_EXTRUDE9_DEPTH, mode=Mode.SUBTRACT)

    # Sketch18 → Boss-Extrude6 (add, two sides)
    with BuildSketch(Plane(origin=(0, 0, 0), x_dir=(0, 0, -1), z_dir=(1, 0, 0))) as boss_extrude6_sk:
        Polygon((-33.5, 25), (-32.063859338, 24), (-33.5, 23), align=None)
        Polygon((33.5, 25), (33.5, 23), (32.063859338, 24), align=None)
    extrude(amount=BOSS_EXTRUDE6_DEPTH)
    extrude(boss_extrude6_sk.sketch, amount=-BOSS_EXTRUDE6_DEPTH_BACK)

    # Sketch19 → Cut-Extrude11 (cut)
    with BuildSketch(Plane(origin=(0, 0, 0), x_dir=(1, 0, 0), z_dir=(0, 1, 0))):
        with Locations((0, 26.5)):
            Rectangle(SKETCH19_W, SKETCH19_H)
    cut_extrude11 = extrude(amount=CUT_EXTRUDE11_DEPTH, mode=Mode.SUBTRACT)

    # LPattern1: Cut-Extrude11 ×2
    with Locations(*[(0, 0, i * LPATTERN1_PITCH) for i in range(1, LPATTERN1_COUNT)]):
        add(cut_extrude11, mode=Mode.SUBTRACT)

    # Mirror1: Cut-Extrude11 across plane
    add(cut_extrude11.mirror(Plane.XY), mode=Mode.SUBTRACT)

    # Mirror1 copy 1 sketch → Mirror1 copy 1 (cut)
    with BuildSketch(Plane(origin=(0, 0, -2.5), x_dir=(1, 0, 0), z_dir=(0, 1, 0))):
        with Locations((0, -26.5)):
            Rectangle(MIRROR1_COPY_1_SKETCH_W, MIRROR1_COPY_1_SKETCH_H)
    extrude(amount=MIRROR1_COPY_1_DEPTH, mode=Mode.SUBTRACT)

    # Chamfer1
    chamfer1_edges = [part.edges().sort_by_distance(p)[0] for p in [
        (30.75, 6.255, 36.235),
        (30.75, 6.065, 37.22),
        (30.75, 4.89, 38.15),
        (30.75, 5.96, 40.15),
        (30.75, 10, 41.22),
        (30.75, 14.04, 40.15),
        (30.75, 15.11, 38.15),
        (30.75, 13.935, 37.22),
        (30.75, 13.745, 36.235),
        (-30.75, 13.745, 36.235),
        (-30.75, 6.255, 36.235),
        (-30.75, 6.065, 37.22),
        (-30.75, 4.89, 38.15),
        (-30.75, 5.96, 40.15),
        (-30.75, 10, 41.22),
        (-30.75, 14.04, 40.15),
        (-30.75, 15.11, 38.15),
        (-30.75, 13.935, 37.22),
    ]]
    chamfer(chamfer1_edges, length=CHAMFER1_SIZE)


solid = part.part
